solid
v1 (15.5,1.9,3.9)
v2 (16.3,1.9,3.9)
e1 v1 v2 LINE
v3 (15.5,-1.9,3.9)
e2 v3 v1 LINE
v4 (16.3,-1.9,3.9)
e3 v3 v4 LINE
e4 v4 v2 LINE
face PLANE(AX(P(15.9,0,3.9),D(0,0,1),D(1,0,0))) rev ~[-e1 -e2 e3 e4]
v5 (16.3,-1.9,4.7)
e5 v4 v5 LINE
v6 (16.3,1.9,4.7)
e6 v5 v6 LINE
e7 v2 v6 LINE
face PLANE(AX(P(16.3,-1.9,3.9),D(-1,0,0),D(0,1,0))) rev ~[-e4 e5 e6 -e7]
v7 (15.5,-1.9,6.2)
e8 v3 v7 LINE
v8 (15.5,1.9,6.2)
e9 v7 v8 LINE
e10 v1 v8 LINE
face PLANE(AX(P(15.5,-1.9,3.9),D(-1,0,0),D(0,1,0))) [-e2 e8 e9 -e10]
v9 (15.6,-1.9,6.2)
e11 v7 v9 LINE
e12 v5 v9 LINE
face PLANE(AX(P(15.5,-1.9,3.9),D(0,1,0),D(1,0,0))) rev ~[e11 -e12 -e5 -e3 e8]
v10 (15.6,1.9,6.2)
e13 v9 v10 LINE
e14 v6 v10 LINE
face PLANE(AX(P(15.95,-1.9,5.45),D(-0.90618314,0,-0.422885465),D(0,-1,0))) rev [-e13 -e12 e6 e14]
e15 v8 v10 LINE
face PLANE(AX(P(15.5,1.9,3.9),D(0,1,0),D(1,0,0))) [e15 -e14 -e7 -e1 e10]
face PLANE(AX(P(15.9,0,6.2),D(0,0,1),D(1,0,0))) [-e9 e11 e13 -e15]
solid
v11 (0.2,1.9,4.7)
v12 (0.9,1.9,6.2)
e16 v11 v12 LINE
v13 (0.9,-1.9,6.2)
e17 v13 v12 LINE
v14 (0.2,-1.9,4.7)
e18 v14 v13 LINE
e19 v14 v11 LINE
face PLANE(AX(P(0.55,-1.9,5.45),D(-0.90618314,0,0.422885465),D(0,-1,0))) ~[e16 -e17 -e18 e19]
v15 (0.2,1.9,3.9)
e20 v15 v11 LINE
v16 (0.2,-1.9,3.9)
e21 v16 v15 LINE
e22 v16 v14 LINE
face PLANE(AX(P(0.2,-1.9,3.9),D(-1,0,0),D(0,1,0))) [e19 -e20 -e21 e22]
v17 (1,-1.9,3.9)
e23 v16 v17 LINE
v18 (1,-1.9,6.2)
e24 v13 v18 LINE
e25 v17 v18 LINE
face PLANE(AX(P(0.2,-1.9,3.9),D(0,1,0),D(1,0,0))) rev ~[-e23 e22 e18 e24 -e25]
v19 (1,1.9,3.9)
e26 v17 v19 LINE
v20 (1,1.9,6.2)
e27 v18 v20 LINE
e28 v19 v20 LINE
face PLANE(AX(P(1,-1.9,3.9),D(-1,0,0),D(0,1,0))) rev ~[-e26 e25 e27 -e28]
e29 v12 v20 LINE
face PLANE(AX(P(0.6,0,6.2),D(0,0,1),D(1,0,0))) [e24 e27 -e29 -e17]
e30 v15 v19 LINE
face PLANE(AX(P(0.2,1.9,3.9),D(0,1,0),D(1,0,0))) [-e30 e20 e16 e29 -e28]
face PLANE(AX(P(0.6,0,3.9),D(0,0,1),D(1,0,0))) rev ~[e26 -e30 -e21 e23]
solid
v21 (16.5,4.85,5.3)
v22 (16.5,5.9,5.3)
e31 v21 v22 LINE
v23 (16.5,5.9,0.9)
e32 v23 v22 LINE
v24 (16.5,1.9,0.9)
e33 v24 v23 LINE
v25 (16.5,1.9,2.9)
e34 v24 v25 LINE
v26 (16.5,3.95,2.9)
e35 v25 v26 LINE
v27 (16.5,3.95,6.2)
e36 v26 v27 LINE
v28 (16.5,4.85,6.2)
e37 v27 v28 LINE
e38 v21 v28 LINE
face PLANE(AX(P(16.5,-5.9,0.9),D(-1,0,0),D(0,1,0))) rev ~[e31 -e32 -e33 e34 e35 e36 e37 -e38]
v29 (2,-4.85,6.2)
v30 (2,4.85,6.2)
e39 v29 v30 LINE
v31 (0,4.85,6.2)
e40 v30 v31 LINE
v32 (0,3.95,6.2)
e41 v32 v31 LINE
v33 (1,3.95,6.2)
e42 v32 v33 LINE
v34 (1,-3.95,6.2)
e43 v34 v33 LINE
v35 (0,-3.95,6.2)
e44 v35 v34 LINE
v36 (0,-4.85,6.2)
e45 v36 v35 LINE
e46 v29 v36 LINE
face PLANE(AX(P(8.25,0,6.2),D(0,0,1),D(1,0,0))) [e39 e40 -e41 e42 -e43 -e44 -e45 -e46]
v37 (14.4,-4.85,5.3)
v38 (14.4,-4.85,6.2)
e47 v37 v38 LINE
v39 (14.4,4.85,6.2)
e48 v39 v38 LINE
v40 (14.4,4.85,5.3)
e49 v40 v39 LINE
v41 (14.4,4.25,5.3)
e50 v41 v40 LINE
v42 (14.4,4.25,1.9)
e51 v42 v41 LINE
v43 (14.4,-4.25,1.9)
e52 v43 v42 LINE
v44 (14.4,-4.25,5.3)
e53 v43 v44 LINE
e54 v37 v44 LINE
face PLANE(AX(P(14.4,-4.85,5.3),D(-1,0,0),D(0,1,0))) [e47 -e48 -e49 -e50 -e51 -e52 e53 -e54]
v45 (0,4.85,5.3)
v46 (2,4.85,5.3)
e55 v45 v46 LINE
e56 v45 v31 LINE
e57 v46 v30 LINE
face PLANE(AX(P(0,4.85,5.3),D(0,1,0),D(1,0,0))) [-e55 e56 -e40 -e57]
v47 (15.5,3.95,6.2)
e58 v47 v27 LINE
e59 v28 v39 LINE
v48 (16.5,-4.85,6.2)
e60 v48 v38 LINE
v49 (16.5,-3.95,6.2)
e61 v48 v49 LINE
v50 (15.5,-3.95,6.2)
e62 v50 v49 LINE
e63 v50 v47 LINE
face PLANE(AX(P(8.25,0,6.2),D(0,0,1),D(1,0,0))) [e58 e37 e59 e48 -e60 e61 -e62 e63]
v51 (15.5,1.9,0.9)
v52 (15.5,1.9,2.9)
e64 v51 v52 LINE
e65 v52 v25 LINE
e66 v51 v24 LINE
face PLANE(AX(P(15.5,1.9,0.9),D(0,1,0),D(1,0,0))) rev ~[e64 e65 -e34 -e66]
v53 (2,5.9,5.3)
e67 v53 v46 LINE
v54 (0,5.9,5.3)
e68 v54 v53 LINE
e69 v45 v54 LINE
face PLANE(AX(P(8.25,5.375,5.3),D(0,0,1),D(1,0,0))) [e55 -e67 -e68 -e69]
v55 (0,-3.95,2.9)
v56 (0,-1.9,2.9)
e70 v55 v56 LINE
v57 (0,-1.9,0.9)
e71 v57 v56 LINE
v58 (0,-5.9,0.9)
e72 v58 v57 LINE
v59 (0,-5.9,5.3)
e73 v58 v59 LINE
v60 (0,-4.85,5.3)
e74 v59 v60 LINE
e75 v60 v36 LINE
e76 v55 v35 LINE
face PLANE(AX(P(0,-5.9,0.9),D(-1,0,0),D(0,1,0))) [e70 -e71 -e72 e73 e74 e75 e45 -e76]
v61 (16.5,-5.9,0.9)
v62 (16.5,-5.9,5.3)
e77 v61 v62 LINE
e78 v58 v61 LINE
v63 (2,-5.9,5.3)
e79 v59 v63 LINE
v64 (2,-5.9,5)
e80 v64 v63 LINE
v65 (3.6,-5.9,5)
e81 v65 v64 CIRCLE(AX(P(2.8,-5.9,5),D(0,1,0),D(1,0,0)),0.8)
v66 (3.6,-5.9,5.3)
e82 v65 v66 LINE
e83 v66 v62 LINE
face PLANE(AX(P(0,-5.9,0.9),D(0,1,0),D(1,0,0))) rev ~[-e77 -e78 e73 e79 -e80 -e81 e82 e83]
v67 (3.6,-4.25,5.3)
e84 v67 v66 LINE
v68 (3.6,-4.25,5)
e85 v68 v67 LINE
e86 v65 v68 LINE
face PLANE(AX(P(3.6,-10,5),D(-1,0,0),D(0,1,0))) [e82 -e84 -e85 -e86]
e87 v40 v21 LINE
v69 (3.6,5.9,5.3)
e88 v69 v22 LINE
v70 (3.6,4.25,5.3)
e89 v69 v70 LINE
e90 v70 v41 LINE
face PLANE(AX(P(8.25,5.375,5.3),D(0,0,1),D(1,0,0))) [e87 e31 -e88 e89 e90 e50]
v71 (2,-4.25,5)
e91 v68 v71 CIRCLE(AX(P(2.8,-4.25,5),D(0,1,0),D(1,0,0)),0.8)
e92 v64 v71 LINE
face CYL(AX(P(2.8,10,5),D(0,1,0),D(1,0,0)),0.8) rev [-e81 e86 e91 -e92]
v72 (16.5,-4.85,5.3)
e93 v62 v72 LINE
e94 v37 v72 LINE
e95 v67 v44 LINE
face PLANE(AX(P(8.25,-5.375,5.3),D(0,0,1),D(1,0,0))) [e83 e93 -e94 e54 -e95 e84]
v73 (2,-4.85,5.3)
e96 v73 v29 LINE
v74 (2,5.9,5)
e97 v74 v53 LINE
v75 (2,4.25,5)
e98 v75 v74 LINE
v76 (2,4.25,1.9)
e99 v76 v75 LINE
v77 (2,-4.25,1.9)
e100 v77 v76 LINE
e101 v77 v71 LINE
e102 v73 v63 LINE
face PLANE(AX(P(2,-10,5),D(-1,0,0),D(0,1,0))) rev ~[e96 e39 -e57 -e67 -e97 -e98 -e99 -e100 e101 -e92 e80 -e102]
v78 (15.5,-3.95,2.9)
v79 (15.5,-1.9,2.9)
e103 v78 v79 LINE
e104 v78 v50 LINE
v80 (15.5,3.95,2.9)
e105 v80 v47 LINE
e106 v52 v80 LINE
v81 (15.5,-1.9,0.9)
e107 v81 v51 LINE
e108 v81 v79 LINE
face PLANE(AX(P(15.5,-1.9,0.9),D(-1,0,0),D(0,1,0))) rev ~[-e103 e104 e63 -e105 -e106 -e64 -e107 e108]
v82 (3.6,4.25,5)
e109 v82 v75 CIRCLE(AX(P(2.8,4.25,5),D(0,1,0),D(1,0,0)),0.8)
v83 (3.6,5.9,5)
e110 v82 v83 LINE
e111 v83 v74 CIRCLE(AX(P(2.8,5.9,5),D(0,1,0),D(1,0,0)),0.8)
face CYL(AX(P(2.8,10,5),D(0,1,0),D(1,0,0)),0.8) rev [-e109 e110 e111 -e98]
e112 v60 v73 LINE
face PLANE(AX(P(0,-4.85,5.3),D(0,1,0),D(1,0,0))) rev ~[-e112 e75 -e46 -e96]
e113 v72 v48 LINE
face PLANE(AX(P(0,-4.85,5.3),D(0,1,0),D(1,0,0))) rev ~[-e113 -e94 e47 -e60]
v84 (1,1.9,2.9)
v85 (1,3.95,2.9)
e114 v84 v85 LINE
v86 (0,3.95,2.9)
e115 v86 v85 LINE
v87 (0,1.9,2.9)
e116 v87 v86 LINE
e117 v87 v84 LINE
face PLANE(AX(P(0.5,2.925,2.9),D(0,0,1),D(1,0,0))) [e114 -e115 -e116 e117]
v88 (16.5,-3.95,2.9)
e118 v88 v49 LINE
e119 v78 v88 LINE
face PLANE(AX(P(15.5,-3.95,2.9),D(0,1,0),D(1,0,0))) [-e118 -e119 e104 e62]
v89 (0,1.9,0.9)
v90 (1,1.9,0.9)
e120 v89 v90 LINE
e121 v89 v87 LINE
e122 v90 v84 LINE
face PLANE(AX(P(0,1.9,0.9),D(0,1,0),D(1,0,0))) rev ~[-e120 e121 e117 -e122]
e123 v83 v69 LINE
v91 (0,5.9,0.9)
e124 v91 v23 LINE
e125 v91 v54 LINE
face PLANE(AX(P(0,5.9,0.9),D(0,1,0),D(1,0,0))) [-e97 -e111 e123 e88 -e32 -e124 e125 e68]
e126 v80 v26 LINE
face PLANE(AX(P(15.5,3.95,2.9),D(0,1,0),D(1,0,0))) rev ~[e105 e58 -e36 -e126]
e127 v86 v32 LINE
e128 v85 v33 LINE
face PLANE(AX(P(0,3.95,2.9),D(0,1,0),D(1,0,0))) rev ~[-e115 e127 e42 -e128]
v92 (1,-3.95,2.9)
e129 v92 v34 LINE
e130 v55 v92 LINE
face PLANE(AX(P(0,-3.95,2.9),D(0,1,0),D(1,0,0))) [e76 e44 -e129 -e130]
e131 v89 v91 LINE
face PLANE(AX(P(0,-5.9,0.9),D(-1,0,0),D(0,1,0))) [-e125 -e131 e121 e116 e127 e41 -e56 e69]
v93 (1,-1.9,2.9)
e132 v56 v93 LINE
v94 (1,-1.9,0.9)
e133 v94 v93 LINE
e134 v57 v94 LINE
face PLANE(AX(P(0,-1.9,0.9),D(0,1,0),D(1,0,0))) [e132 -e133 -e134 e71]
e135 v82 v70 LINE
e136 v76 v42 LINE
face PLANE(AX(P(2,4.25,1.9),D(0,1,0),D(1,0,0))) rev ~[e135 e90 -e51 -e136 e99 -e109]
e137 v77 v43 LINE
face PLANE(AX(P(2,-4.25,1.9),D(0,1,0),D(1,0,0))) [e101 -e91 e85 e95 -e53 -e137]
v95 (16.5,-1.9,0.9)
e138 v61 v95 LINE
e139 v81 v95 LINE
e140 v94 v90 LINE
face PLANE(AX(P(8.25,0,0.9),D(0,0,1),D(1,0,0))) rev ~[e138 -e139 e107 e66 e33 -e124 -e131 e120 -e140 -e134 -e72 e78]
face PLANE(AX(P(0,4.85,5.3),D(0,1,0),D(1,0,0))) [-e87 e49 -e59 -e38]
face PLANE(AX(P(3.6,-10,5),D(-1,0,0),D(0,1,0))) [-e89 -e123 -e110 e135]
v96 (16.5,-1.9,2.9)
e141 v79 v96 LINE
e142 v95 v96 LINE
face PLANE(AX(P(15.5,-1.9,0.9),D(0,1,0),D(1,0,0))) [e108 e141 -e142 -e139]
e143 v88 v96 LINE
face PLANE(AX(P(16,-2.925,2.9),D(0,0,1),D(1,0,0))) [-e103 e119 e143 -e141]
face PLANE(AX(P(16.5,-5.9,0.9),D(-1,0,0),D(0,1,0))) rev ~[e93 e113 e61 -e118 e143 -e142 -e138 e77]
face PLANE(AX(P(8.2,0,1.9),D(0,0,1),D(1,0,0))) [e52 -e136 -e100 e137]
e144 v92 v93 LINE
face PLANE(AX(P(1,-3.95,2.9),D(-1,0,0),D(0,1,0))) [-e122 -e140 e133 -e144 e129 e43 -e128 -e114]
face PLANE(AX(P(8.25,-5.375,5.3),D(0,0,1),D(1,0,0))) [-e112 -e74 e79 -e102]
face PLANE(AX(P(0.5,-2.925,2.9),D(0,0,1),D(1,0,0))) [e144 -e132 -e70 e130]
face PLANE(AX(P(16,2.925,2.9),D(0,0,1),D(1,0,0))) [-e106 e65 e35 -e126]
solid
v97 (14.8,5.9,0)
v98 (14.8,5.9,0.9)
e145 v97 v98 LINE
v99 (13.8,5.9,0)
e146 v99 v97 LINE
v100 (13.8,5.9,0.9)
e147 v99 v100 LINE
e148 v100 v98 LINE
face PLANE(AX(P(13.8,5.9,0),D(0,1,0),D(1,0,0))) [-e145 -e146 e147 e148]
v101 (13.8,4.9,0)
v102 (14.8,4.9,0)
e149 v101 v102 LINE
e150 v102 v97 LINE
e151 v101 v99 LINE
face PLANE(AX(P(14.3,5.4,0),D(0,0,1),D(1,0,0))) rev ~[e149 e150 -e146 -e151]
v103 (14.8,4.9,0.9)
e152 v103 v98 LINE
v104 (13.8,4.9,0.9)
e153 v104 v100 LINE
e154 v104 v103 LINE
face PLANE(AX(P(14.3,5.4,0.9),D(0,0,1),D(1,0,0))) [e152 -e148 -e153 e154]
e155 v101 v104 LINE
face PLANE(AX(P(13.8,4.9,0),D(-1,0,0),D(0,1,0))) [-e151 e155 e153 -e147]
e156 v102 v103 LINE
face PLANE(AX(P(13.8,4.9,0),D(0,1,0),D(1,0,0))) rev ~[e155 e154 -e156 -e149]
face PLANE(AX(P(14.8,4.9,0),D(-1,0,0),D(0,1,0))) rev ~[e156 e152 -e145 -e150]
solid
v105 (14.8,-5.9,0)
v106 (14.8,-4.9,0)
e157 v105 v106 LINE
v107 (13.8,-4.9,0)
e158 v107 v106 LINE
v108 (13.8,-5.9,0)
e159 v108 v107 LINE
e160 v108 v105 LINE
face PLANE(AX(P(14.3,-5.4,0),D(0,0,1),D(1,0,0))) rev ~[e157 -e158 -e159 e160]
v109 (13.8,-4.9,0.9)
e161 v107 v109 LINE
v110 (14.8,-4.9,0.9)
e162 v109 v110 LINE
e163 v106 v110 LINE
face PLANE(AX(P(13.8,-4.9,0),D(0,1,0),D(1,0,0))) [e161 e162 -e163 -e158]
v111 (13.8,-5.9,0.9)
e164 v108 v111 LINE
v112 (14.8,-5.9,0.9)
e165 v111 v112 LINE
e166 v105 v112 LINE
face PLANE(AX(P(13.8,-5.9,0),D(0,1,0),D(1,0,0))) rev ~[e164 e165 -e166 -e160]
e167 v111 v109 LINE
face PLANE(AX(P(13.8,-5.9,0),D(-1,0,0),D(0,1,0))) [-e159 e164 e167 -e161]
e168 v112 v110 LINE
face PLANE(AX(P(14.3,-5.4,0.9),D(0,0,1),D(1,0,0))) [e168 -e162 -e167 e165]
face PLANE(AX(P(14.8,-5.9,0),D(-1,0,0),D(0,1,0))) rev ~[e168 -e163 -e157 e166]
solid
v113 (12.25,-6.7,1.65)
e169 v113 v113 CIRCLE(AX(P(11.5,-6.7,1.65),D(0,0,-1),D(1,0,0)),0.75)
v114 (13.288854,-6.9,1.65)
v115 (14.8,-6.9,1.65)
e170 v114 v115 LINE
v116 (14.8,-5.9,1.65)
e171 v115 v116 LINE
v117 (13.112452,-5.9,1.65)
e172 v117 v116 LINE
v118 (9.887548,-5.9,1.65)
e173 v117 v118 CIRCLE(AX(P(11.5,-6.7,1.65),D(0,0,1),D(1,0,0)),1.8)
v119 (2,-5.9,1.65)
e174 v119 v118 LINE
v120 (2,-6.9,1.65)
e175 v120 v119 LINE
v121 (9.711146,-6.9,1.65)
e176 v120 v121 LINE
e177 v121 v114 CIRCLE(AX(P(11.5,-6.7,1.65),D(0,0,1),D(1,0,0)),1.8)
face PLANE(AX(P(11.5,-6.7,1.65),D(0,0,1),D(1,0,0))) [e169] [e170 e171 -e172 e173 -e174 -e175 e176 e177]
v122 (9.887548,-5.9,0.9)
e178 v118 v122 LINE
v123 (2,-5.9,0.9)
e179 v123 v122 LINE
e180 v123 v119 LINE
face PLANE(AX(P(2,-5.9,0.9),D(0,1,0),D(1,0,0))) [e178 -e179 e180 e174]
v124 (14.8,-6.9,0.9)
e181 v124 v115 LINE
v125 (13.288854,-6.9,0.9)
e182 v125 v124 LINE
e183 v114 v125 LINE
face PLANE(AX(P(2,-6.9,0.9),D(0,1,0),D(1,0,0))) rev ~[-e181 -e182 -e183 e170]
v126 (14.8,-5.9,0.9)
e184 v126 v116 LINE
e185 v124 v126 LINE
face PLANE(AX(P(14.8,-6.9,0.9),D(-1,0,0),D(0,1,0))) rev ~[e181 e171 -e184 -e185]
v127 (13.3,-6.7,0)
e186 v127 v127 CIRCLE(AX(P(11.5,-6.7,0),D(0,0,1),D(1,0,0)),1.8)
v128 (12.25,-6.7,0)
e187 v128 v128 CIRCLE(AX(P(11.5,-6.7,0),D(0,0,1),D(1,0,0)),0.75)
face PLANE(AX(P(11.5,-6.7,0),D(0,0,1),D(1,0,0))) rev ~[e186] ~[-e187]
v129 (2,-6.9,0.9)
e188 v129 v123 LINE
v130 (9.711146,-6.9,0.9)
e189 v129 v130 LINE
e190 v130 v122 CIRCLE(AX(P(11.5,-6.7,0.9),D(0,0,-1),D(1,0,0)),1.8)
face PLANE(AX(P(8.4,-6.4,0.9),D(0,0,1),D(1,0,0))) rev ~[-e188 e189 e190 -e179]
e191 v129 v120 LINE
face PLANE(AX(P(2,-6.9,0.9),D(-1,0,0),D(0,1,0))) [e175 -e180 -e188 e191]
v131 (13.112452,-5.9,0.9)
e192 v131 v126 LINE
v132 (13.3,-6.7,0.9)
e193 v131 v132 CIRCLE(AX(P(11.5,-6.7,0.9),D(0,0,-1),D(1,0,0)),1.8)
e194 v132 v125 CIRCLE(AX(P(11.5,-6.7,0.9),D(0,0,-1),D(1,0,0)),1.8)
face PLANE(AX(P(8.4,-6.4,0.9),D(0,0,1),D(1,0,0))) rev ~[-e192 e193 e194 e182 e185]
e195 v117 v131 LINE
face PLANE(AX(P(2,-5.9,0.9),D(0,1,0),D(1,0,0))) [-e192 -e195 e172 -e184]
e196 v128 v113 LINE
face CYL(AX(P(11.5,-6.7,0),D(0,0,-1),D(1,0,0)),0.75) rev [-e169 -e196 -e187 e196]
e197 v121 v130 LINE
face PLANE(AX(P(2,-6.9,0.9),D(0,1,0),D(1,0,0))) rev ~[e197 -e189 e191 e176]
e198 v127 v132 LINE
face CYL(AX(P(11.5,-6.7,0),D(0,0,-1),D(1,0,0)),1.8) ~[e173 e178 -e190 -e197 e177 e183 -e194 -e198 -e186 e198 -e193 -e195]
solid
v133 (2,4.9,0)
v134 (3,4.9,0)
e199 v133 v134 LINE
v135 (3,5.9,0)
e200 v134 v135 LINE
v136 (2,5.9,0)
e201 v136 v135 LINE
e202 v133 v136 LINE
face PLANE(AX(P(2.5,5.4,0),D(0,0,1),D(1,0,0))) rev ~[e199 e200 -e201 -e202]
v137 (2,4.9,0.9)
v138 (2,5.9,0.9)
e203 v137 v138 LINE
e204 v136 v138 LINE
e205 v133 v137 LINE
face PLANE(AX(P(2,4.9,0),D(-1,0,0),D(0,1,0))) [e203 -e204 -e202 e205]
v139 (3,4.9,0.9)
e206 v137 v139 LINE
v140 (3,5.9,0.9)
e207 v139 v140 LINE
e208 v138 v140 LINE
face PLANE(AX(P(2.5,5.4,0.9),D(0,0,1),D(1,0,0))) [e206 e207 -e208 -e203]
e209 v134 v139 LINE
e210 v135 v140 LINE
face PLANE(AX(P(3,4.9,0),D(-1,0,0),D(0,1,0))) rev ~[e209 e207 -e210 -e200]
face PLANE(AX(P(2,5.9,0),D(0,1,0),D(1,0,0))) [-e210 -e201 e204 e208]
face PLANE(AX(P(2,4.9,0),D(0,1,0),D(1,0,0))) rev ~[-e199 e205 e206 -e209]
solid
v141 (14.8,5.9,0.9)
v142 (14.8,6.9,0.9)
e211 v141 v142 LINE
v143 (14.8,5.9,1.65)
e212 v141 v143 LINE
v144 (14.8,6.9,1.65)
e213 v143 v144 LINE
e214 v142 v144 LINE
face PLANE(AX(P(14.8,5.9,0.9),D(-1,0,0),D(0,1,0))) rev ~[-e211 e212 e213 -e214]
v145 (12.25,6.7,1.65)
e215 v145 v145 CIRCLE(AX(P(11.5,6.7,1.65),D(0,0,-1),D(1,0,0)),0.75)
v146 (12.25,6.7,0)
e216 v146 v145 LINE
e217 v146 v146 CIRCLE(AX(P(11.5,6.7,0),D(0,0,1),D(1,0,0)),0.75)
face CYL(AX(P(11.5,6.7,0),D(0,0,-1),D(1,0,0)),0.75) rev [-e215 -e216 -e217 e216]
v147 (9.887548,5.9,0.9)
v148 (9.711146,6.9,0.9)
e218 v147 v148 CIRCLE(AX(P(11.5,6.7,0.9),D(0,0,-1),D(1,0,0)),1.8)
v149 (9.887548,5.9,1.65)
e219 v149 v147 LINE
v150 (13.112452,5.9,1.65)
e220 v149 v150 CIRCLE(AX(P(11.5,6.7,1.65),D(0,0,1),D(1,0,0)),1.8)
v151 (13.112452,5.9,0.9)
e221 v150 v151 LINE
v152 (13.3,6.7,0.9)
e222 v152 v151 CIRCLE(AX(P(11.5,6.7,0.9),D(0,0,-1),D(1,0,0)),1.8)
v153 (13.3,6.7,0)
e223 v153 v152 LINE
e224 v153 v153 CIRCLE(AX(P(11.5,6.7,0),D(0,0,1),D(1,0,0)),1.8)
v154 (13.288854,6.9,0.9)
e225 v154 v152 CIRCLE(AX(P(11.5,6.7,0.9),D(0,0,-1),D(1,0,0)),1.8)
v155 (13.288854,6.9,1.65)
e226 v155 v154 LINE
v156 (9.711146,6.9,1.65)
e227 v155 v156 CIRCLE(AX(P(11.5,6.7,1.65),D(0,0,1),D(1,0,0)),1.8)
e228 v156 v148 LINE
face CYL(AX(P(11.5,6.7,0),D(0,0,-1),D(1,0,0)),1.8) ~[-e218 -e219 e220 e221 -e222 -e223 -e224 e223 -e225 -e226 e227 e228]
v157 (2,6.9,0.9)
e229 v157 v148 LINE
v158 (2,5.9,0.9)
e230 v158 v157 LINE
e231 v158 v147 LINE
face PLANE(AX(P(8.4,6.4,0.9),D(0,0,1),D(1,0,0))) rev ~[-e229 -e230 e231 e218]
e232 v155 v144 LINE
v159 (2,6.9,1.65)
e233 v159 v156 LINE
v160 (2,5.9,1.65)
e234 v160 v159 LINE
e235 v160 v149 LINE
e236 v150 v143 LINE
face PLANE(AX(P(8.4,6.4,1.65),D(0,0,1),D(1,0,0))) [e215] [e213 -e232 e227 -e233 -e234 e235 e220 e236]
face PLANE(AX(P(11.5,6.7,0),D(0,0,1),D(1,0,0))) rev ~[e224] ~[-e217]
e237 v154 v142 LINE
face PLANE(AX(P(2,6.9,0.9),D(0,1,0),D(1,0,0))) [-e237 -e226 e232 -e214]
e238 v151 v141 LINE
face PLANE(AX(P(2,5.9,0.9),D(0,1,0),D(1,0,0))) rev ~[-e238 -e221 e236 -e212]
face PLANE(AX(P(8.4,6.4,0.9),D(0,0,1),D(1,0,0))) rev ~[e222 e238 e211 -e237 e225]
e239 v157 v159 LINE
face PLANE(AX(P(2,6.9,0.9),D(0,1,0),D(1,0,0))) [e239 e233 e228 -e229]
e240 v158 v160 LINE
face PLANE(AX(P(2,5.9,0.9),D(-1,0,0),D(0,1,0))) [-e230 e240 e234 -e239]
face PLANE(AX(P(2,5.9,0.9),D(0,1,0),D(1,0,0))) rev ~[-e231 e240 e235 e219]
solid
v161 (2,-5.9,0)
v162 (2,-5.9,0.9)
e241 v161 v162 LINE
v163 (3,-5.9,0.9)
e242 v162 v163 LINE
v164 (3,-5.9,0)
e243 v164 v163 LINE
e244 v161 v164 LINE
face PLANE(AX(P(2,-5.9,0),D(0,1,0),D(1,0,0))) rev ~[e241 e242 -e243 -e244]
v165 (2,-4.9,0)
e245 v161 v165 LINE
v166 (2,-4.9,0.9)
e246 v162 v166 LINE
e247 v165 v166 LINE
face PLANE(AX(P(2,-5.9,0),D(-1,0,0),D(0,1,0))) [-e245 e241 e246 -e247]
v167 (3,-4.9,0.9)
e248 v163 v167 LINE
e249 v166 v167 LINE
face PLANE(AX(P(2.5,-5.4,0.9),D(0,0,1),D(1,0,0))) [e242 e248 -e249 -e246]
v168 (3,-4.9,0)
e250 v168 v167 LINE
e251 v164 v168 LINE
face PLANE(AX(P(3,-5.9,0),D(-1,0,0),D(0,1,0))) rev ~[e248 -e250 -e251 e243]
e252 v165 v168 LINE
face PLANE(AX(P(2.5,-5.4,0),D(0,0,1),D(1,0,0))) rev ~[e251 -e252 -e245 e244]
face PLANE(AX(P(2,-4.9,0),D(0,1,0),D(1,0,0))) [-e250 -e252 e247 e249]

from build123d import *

# Parameters (mm, degrees)
CYLINDER003_R     = 0.75
CYLINDER003_DEPTH = 10
CYLINDER_R        = 1.8
CYLINDER_DEPTH    = 1.65
BOX006_W          = 12.8
BOX006_H          = 1
BOX006_DEPTH      = 0.75
CYLINDER002_R     = 0.75
CYLINDER002_DEPTH = 10
BOX005_W          = 12.8
BOX005_H          = 1
BOX005_DEPTH      = 0.75
CYLINDER001_R     = 1.8
CYLINDER001_DEPTH = 1.65
BOX002_W          = 1
BOX002_H          = 1
BOX002_DEPTH      = 0.9
BOX003_W          = 1
BOX003_H          = 1
BOX003_DEPTH      = 0.9
BOX001_W          = 1
BOX001_H          = 1
BOX001_DEPTH      = 0.9
BOX004_W          = 1
BOX004_H          = 1
BOX004_DEPTH      = 0.9
BOX015_W          = 0.8
BOX015_H          = 3.8
BOX015_DEPTH      = 2.3
CHAMFER_SIZE2     = 0.7
CHAMFER_SIZE      = 1.5
BOX016_W          = 0.8
BOX016_H          = 3.8
BOX016_DEPTH      = 2.3
CHAMFER001_SIZE2  = 0.7
CHAMFER001_SIZE   = 1.5
BOX019_W          = 12.3
BOX019_H          = 9.7
BOX019_DEPTH      = 1
CYLINDER004_R     = 0.8
CYLINDER004_DEPTH = 20
BOX018_W          = 1.6
BOX018_H          = 20
BOX018_DEPTH      = 3
BOX017_W          = 12.4
BOX017_H          = 8.5
BOX017_DEPTH      = 4.3
BOX013_W          = 1
BOX013_H          = 2.05
BOX013_DEPTH      = 3.3
BOX014_W          = 1
BOX014_H          = 2.05
BOX014_DEPTH      = 3.3
BOX011_W          = 1
BOX011_H          = 2.05
BOX011_DEPTH      = 3.3
BOX012_W          = 1
BOX012_H          = 2.05
BOX012_DEPTH      = 3.3
BOX010_W          = 1
BOX010_H          = 3.8
BOX010_DEPTH      = 5.3
BOX009_W          = 1
BOX009_H          = 3.8
BOX009_DEPTH      = 5.3
BOX007_W          = 16.5
BOX007_H          = 1.05
BOX007_DEPTH      = 1
BOX008_W          = 16.5
BOX008_H          = 1.05
BOX008_DEPTH      = 1
BOX_W             = 16.5
BOX_H             = 11.8
BOX_DEPTH         = 5.3


with BuildPart() as cylinder003:
    # Cylinder003 → Cylinder003 (new body)
    with BuildSketch(Plane(origin=(11.5, -6.7, 0), x_dir=(1, 0, 0), z_dir=(0, 0, 1))):
        Circle(CYLINDER003_R)
    extrude(amount=CYLINDER003_DEPTH)


with BuildPart() as cylinder:
    # Cylinder → Cylinder (new body)
    with BuildSketch(Plane(origin=(11.5, -6.7, 0), x_dir=(1, 0, 0), z_dir=(0, 0, 1))):
        Circle(CYLINDER_R)
    extrude(amount=CYLINDER_DEPTH)


with BuildPart() as cut:
    # Box006 → Box006 (new body)
    with BuildSketch(Plane(origin=(2, -6.9, 0.9), x_dir=(1, 0, 0), z_dir=(0, 0, 1))):
        with Locations((6.4, 0.5)):
            Rectangle(BOX006_W, BOX006_H)
    extrude(amount=BOX006_DEPTH)

    # Fusion: union Cylinder
    add(cylinder.part)

    # Cut: cut Cylinder003
    add(cylinder003.part, mode=Mode.SUBTRACT)


with BuildPart() as cylinder002:
    # Cylinder002 → Cylinder002 (new body)
    with BuildSketch(Plane(origin=(11.5, 6.7, 0), x_dir=(1, 0, 0), z_dir=(0, 0, 1))):
        Circle(CYLINDER002_R)
    extrude(amount=CYLINDER002_DEPTH)


with BuildPart() as sk1:
    # Box005 → Box005 (new body)
    with BuildSketch(Plane(origin=(2, 5.9, 0.9), x_dir=(1, 0, 0), z_dir=(0, 0, 1))):
        with Locations((6.4, 0.5)):
            Rectangle(BOX005_W, BOX005_H)
    extrude(amount=BOX005_DEPTH)


with BuildPart() as cut001:
    # Cylinder001 → Cylinder001 (new body)
    with BuildSketch(Plane(origin=(11.5, 6.7, 0), x_dir=(1, 0, 0), z_dir=(0, 0, 1))):
        Circle(CYLINDER001_R)
    extrude(amount=CYLINDER001_DEPTH)

    # Fusion001: union sk1
    add(sk1.part)

    # Cut001: cut Cylinder002
    add(cylinder002.part, mode=Mode.SUBTRACT)


with BuildPart() as cube002:
    # Box002 → Box002 (new body)
    with BuildSketch(Plane(origin=(13.8, 4.9, 0), x_dir=(1, 0, 0), z_dir=(0, 0, 1))):
        with Locations((0.5, 0.5)):
            Rectangle(BOX002_W, BOX002_H)
    extrude(amount=BOX002_DEPTH)


with BuildPart() as cube003:
    # Box003 → Box003 (new body)
    with BuildSketch(Plane(origin=(2, -5.9, 0), x_dir=(1, 0, 0), z_dir=(0, 0, 1))):
        with Locations((0.5, 0.5)):
            Rectangle(BOX003_W, BOX003_H)
    extrude(amount=BOX003_DEPTH)


with BuildPart() as cube001:
    # Box001 → Box001 (new body)
    with BuildSketch(Plane(origin=(2, 4.9, 0), x_dir=(1, 0, 0), z_dir=(0, 0, 1))):
        with Locations((0.5, 0.5)):
            Rectangle(BOX001_W, BOX001_H)
    extrude(amount=BOX001_DEPTH)


with BuildPart() as pods:
    # Box004 → Box004 (new body)
    with BuildSketch(Plane(origin=(13.8, -5.9, 0), x_dir=(1, 0, 0), z_dir=(0, 0, 1))):
        with Locations((0.5, 0.5)):
            Rectangle(BOX004_W, BOX004_H)
    extrude(amount=BOX004_DEPTH)

    # Fusion004: union Cube002, Cube003, Cube001
    add(cube002.part)
    add(cube003.part)
    add(cube001.part)


with BuildPart() as chamfer_body:
    # Box015 → Box015 (new body)
    with BuildSketch(Plane(origin=(0.2, -1.9, 3.9), x_dir=(1, 0, 0), z_dir=(0, 0, 1))):
        with Locations((0.4, 1.9)):
            Rectangle(BOX015_W, BOX015_H)
    extrude(amount=BOX015_DEPTH)

    # Chamfer
    chamfer_edges = [chamfer_body.edges().sort_by_distance(p)[0] for p in [
        (0.2, 0, 6.2),
    ]]
    chamfer_side = chamfer_body.faces().sort_by_distance((0.2, 0, 5.05))[0]
    chamfer(chamfer_edges, length=CHAMFER_SIZE, length2=CHAMFER_SIZE2, reference=chamfer_side)


with BuildPart() as chamfer001:
    # Box016 → Box016 (new body)
    with BuildSketch(Plane(origin=(15.5, -1.9, 3.9), x_dir=(1, 0, 0), z_dir=(0, 0, 1))):
        with Locations((0.4, 1.9)):
            Rectangle(BOX016_W, BOX016_H)
    extrude(amount=BOX016_DEPTH)

    # Chamfer001
    chamfer001_edges = [chamfer001.edges().sort_by_distance(p)[0] for p in [
        (16.3, 0, 6.2),
    ]]
    chamfer001_side = chamfer001.faces().sort_by_distance((16.3, 0, 5.05))[0]
    chamfer(chamfer001_edges, length=CHAMFER001_SIZE, length2=CHAMFER001_SIZE2, reference=chamfer001_side)


with BuildPart() as cube016:
    # Box019 → Box019 (new body)
    with BuildSketch(Plane(origin=(2.1, -4.85, 5.3), x_dir=(1, 0, 0), z_dir=(0, 0, 1))):
        with Locations((6.15, 4.85)):
            Rectangle(BOX019_W, BOX019_H)
    extrude(amount=BOX019_DEPTH)


with BuildPart() as cylinder004:
    # Cylinder004 → Cylinder004 (new body)
    with BuildSketch(Plane(origin=(2.8, 10, 5), x_dir=(1, 0, 0), z_dir=(0, -1, 0))):
        Circle(CYLINDER004_R)
    extrude(amount=CYLINDER004_DEPTH)


with BuildPart() as fusion005:
    # Box018 → Box018 (new body)
    with BuildSketch(Plane(origin=(2, -10, 5), x_dir=(1, 0, 0), z_dir=(0, 0, 1))):
        with Locations((0.8, 10)):
            Rectangle(BOX018_W, BOX018_H)
    extrude(amount=BOX018_DEPTH)

    # Fusion005: union Cylinder004
    add(cylinder004.part)


with BuildPart() as cube:
    # Box017 → Box017 (new body)
    with BuildSketch(Plane(origin=(2, -4.25, 1.9), x_dir=(1, 0, 0), z_dir=(0, 0, 1))):
        with Locations((6.2, 4.25)):
            Rectangle(BOX017_W, BOX017_H)
    extrude(amount=BOX017_DEPTH)


with BuildPart() as cube011:
    # Box013 → Box013 (new body)
    with BuildSketch(Plane(origin=(0, 1.9, 2.9), x_dir=(1, 0, 0), z_dir=(0, 0, 1))):
        with Locations((0.5, 1.025)):
            Rectangle(BOX013_W, BOX013_H)
    extrude(amount=BOX013_DEPTH)


with BuildPart() as cube012:
    # Box014 → Box014 (new body)
    with BuildSketch(Plane(origin=(0, -3.95, 2.9), x_dir=(1, 0, 0), z_dir=(0, 0, 1))):
        with Locations((0.5, 1.025)):
            Rectangle(BOX014_W, BOX014_H)
    extrude(amount=BOX014_DEPTH)


with BuildPart() as cube009:
    # Box011 → Box011 (new body)
    with BuildSketch(Plane(origin=(15.5, -3.95, 2.9), x_dir=(1, 0, 0), z_dir=(0, 0, 1))):
        with Locations((0.5, 1.025)):
            Rectangle(BOX011_W, BOX011_H)
    extrude(amount=BOX011_DEPTH)


with BuildPart() as cube010:
    # Box012 → Box012 (new body)
    with BuildSketch(Plane(origin=(15.5, 1.9, 2.9), x_dir=(1, 0, 0), z_dir=(0, 0, 1))):
        with Locations((0.5, 1.025)):
            Rectangle(BOX012_W, BOX012_H)
    extrude(amount=BOX012_DEPTH)


with BuildPart() as cube008:
    # Box010 → Box010 (new body)
    with BuildSketch(Plane(origin=(15.5, -1.9, 0.9), x_dir=(1, 0, 0), z_dir=(0, 0, 1))):
        with Locations((0.5, 1.9)):
            Rectangle(BOX010_W, BOX010_H)
    extrude(amount=BOX010_DEPTH)


with BuildPart() as fusion003:
    # Box009 → Box009 (new body)
    with BuildSketch(Plane(origin=(0, -1.9, 0.9), x_dir=(1, 0, 0), z_dir=(0, 0, 1))):
        with Locations((0.5, 1.9)):
            Rectangle(BOX009_W, BOX009_H)
    extrude(amount=BOX009_DEPTH)

    # Fusion003: union Cube011, Cube012, Cube009, Cube010, Cube008
    add(cube011.part)
    add(cube012.part)
    add(cube009.part)
    add(cube010.part)
    add(cube008.part)


with BuildPart() as cube005:
    # Box007 → Box007 (new body)
    with BuildSketch(Plane(origin=(0, 4.85, 5.3), x_dir=(1, 0, 0), z_dir=(0, 0, 1))):
        with Locations((8.25, 0.525)):
            Rectangle(BOX007_W, BOX007_H)
    extrude(amount=BOX007_DEPTH)


with BuildPart() as fusion002:
    # Box008 → Box008 (new body)
    with BuildSketch(Plane(origin=(0, -5.9, 5.3), x_dir=(1, 0, 0), z_dir=(0, 0, 1))):
        with Locations((8.25, 0.525)):
            Rectangle(BOX008_W, BOX008_H)
    extrude(amount=BOX008_DEPTH)

    # Fusion002: union Cube005
    add(cube005.part)


with BuildPart() as cut006:
    # Box → Box (new body)
    with BuildSketch(Plane(origin=(0, -5.9, 0.9), x_dir=(1, 0, 0), z_dir=(0, 0, 1))):
        with Locations((8.25, 5.9)):
            Rectangle(BOX_W, BOX_H)
    extrude(amount=BOX_DEPTH)

    # Cut002: cut Fusion002
    add(fusion002.part, mode=Mode.SUBTRACT)

    # Cut003: cut Fusion003
    add(fusion003.part, mode=Mode.SUBTRACT)

    # Cut004: cut Cube
    add(cube.part, mode=Mode.SUBTRACT)

    # Cut005: cut Fusion005
    add(fusion005.part, mode=Mode.SUBTRACT)

    # Cut006: cut Cube016
    add(cube016.part, mode=Mode.SUBTRACT)


solid = Compound([cut.part, cut001.part, pods.part, chamfer_body.part, chamfer001.part, cut006.part])
